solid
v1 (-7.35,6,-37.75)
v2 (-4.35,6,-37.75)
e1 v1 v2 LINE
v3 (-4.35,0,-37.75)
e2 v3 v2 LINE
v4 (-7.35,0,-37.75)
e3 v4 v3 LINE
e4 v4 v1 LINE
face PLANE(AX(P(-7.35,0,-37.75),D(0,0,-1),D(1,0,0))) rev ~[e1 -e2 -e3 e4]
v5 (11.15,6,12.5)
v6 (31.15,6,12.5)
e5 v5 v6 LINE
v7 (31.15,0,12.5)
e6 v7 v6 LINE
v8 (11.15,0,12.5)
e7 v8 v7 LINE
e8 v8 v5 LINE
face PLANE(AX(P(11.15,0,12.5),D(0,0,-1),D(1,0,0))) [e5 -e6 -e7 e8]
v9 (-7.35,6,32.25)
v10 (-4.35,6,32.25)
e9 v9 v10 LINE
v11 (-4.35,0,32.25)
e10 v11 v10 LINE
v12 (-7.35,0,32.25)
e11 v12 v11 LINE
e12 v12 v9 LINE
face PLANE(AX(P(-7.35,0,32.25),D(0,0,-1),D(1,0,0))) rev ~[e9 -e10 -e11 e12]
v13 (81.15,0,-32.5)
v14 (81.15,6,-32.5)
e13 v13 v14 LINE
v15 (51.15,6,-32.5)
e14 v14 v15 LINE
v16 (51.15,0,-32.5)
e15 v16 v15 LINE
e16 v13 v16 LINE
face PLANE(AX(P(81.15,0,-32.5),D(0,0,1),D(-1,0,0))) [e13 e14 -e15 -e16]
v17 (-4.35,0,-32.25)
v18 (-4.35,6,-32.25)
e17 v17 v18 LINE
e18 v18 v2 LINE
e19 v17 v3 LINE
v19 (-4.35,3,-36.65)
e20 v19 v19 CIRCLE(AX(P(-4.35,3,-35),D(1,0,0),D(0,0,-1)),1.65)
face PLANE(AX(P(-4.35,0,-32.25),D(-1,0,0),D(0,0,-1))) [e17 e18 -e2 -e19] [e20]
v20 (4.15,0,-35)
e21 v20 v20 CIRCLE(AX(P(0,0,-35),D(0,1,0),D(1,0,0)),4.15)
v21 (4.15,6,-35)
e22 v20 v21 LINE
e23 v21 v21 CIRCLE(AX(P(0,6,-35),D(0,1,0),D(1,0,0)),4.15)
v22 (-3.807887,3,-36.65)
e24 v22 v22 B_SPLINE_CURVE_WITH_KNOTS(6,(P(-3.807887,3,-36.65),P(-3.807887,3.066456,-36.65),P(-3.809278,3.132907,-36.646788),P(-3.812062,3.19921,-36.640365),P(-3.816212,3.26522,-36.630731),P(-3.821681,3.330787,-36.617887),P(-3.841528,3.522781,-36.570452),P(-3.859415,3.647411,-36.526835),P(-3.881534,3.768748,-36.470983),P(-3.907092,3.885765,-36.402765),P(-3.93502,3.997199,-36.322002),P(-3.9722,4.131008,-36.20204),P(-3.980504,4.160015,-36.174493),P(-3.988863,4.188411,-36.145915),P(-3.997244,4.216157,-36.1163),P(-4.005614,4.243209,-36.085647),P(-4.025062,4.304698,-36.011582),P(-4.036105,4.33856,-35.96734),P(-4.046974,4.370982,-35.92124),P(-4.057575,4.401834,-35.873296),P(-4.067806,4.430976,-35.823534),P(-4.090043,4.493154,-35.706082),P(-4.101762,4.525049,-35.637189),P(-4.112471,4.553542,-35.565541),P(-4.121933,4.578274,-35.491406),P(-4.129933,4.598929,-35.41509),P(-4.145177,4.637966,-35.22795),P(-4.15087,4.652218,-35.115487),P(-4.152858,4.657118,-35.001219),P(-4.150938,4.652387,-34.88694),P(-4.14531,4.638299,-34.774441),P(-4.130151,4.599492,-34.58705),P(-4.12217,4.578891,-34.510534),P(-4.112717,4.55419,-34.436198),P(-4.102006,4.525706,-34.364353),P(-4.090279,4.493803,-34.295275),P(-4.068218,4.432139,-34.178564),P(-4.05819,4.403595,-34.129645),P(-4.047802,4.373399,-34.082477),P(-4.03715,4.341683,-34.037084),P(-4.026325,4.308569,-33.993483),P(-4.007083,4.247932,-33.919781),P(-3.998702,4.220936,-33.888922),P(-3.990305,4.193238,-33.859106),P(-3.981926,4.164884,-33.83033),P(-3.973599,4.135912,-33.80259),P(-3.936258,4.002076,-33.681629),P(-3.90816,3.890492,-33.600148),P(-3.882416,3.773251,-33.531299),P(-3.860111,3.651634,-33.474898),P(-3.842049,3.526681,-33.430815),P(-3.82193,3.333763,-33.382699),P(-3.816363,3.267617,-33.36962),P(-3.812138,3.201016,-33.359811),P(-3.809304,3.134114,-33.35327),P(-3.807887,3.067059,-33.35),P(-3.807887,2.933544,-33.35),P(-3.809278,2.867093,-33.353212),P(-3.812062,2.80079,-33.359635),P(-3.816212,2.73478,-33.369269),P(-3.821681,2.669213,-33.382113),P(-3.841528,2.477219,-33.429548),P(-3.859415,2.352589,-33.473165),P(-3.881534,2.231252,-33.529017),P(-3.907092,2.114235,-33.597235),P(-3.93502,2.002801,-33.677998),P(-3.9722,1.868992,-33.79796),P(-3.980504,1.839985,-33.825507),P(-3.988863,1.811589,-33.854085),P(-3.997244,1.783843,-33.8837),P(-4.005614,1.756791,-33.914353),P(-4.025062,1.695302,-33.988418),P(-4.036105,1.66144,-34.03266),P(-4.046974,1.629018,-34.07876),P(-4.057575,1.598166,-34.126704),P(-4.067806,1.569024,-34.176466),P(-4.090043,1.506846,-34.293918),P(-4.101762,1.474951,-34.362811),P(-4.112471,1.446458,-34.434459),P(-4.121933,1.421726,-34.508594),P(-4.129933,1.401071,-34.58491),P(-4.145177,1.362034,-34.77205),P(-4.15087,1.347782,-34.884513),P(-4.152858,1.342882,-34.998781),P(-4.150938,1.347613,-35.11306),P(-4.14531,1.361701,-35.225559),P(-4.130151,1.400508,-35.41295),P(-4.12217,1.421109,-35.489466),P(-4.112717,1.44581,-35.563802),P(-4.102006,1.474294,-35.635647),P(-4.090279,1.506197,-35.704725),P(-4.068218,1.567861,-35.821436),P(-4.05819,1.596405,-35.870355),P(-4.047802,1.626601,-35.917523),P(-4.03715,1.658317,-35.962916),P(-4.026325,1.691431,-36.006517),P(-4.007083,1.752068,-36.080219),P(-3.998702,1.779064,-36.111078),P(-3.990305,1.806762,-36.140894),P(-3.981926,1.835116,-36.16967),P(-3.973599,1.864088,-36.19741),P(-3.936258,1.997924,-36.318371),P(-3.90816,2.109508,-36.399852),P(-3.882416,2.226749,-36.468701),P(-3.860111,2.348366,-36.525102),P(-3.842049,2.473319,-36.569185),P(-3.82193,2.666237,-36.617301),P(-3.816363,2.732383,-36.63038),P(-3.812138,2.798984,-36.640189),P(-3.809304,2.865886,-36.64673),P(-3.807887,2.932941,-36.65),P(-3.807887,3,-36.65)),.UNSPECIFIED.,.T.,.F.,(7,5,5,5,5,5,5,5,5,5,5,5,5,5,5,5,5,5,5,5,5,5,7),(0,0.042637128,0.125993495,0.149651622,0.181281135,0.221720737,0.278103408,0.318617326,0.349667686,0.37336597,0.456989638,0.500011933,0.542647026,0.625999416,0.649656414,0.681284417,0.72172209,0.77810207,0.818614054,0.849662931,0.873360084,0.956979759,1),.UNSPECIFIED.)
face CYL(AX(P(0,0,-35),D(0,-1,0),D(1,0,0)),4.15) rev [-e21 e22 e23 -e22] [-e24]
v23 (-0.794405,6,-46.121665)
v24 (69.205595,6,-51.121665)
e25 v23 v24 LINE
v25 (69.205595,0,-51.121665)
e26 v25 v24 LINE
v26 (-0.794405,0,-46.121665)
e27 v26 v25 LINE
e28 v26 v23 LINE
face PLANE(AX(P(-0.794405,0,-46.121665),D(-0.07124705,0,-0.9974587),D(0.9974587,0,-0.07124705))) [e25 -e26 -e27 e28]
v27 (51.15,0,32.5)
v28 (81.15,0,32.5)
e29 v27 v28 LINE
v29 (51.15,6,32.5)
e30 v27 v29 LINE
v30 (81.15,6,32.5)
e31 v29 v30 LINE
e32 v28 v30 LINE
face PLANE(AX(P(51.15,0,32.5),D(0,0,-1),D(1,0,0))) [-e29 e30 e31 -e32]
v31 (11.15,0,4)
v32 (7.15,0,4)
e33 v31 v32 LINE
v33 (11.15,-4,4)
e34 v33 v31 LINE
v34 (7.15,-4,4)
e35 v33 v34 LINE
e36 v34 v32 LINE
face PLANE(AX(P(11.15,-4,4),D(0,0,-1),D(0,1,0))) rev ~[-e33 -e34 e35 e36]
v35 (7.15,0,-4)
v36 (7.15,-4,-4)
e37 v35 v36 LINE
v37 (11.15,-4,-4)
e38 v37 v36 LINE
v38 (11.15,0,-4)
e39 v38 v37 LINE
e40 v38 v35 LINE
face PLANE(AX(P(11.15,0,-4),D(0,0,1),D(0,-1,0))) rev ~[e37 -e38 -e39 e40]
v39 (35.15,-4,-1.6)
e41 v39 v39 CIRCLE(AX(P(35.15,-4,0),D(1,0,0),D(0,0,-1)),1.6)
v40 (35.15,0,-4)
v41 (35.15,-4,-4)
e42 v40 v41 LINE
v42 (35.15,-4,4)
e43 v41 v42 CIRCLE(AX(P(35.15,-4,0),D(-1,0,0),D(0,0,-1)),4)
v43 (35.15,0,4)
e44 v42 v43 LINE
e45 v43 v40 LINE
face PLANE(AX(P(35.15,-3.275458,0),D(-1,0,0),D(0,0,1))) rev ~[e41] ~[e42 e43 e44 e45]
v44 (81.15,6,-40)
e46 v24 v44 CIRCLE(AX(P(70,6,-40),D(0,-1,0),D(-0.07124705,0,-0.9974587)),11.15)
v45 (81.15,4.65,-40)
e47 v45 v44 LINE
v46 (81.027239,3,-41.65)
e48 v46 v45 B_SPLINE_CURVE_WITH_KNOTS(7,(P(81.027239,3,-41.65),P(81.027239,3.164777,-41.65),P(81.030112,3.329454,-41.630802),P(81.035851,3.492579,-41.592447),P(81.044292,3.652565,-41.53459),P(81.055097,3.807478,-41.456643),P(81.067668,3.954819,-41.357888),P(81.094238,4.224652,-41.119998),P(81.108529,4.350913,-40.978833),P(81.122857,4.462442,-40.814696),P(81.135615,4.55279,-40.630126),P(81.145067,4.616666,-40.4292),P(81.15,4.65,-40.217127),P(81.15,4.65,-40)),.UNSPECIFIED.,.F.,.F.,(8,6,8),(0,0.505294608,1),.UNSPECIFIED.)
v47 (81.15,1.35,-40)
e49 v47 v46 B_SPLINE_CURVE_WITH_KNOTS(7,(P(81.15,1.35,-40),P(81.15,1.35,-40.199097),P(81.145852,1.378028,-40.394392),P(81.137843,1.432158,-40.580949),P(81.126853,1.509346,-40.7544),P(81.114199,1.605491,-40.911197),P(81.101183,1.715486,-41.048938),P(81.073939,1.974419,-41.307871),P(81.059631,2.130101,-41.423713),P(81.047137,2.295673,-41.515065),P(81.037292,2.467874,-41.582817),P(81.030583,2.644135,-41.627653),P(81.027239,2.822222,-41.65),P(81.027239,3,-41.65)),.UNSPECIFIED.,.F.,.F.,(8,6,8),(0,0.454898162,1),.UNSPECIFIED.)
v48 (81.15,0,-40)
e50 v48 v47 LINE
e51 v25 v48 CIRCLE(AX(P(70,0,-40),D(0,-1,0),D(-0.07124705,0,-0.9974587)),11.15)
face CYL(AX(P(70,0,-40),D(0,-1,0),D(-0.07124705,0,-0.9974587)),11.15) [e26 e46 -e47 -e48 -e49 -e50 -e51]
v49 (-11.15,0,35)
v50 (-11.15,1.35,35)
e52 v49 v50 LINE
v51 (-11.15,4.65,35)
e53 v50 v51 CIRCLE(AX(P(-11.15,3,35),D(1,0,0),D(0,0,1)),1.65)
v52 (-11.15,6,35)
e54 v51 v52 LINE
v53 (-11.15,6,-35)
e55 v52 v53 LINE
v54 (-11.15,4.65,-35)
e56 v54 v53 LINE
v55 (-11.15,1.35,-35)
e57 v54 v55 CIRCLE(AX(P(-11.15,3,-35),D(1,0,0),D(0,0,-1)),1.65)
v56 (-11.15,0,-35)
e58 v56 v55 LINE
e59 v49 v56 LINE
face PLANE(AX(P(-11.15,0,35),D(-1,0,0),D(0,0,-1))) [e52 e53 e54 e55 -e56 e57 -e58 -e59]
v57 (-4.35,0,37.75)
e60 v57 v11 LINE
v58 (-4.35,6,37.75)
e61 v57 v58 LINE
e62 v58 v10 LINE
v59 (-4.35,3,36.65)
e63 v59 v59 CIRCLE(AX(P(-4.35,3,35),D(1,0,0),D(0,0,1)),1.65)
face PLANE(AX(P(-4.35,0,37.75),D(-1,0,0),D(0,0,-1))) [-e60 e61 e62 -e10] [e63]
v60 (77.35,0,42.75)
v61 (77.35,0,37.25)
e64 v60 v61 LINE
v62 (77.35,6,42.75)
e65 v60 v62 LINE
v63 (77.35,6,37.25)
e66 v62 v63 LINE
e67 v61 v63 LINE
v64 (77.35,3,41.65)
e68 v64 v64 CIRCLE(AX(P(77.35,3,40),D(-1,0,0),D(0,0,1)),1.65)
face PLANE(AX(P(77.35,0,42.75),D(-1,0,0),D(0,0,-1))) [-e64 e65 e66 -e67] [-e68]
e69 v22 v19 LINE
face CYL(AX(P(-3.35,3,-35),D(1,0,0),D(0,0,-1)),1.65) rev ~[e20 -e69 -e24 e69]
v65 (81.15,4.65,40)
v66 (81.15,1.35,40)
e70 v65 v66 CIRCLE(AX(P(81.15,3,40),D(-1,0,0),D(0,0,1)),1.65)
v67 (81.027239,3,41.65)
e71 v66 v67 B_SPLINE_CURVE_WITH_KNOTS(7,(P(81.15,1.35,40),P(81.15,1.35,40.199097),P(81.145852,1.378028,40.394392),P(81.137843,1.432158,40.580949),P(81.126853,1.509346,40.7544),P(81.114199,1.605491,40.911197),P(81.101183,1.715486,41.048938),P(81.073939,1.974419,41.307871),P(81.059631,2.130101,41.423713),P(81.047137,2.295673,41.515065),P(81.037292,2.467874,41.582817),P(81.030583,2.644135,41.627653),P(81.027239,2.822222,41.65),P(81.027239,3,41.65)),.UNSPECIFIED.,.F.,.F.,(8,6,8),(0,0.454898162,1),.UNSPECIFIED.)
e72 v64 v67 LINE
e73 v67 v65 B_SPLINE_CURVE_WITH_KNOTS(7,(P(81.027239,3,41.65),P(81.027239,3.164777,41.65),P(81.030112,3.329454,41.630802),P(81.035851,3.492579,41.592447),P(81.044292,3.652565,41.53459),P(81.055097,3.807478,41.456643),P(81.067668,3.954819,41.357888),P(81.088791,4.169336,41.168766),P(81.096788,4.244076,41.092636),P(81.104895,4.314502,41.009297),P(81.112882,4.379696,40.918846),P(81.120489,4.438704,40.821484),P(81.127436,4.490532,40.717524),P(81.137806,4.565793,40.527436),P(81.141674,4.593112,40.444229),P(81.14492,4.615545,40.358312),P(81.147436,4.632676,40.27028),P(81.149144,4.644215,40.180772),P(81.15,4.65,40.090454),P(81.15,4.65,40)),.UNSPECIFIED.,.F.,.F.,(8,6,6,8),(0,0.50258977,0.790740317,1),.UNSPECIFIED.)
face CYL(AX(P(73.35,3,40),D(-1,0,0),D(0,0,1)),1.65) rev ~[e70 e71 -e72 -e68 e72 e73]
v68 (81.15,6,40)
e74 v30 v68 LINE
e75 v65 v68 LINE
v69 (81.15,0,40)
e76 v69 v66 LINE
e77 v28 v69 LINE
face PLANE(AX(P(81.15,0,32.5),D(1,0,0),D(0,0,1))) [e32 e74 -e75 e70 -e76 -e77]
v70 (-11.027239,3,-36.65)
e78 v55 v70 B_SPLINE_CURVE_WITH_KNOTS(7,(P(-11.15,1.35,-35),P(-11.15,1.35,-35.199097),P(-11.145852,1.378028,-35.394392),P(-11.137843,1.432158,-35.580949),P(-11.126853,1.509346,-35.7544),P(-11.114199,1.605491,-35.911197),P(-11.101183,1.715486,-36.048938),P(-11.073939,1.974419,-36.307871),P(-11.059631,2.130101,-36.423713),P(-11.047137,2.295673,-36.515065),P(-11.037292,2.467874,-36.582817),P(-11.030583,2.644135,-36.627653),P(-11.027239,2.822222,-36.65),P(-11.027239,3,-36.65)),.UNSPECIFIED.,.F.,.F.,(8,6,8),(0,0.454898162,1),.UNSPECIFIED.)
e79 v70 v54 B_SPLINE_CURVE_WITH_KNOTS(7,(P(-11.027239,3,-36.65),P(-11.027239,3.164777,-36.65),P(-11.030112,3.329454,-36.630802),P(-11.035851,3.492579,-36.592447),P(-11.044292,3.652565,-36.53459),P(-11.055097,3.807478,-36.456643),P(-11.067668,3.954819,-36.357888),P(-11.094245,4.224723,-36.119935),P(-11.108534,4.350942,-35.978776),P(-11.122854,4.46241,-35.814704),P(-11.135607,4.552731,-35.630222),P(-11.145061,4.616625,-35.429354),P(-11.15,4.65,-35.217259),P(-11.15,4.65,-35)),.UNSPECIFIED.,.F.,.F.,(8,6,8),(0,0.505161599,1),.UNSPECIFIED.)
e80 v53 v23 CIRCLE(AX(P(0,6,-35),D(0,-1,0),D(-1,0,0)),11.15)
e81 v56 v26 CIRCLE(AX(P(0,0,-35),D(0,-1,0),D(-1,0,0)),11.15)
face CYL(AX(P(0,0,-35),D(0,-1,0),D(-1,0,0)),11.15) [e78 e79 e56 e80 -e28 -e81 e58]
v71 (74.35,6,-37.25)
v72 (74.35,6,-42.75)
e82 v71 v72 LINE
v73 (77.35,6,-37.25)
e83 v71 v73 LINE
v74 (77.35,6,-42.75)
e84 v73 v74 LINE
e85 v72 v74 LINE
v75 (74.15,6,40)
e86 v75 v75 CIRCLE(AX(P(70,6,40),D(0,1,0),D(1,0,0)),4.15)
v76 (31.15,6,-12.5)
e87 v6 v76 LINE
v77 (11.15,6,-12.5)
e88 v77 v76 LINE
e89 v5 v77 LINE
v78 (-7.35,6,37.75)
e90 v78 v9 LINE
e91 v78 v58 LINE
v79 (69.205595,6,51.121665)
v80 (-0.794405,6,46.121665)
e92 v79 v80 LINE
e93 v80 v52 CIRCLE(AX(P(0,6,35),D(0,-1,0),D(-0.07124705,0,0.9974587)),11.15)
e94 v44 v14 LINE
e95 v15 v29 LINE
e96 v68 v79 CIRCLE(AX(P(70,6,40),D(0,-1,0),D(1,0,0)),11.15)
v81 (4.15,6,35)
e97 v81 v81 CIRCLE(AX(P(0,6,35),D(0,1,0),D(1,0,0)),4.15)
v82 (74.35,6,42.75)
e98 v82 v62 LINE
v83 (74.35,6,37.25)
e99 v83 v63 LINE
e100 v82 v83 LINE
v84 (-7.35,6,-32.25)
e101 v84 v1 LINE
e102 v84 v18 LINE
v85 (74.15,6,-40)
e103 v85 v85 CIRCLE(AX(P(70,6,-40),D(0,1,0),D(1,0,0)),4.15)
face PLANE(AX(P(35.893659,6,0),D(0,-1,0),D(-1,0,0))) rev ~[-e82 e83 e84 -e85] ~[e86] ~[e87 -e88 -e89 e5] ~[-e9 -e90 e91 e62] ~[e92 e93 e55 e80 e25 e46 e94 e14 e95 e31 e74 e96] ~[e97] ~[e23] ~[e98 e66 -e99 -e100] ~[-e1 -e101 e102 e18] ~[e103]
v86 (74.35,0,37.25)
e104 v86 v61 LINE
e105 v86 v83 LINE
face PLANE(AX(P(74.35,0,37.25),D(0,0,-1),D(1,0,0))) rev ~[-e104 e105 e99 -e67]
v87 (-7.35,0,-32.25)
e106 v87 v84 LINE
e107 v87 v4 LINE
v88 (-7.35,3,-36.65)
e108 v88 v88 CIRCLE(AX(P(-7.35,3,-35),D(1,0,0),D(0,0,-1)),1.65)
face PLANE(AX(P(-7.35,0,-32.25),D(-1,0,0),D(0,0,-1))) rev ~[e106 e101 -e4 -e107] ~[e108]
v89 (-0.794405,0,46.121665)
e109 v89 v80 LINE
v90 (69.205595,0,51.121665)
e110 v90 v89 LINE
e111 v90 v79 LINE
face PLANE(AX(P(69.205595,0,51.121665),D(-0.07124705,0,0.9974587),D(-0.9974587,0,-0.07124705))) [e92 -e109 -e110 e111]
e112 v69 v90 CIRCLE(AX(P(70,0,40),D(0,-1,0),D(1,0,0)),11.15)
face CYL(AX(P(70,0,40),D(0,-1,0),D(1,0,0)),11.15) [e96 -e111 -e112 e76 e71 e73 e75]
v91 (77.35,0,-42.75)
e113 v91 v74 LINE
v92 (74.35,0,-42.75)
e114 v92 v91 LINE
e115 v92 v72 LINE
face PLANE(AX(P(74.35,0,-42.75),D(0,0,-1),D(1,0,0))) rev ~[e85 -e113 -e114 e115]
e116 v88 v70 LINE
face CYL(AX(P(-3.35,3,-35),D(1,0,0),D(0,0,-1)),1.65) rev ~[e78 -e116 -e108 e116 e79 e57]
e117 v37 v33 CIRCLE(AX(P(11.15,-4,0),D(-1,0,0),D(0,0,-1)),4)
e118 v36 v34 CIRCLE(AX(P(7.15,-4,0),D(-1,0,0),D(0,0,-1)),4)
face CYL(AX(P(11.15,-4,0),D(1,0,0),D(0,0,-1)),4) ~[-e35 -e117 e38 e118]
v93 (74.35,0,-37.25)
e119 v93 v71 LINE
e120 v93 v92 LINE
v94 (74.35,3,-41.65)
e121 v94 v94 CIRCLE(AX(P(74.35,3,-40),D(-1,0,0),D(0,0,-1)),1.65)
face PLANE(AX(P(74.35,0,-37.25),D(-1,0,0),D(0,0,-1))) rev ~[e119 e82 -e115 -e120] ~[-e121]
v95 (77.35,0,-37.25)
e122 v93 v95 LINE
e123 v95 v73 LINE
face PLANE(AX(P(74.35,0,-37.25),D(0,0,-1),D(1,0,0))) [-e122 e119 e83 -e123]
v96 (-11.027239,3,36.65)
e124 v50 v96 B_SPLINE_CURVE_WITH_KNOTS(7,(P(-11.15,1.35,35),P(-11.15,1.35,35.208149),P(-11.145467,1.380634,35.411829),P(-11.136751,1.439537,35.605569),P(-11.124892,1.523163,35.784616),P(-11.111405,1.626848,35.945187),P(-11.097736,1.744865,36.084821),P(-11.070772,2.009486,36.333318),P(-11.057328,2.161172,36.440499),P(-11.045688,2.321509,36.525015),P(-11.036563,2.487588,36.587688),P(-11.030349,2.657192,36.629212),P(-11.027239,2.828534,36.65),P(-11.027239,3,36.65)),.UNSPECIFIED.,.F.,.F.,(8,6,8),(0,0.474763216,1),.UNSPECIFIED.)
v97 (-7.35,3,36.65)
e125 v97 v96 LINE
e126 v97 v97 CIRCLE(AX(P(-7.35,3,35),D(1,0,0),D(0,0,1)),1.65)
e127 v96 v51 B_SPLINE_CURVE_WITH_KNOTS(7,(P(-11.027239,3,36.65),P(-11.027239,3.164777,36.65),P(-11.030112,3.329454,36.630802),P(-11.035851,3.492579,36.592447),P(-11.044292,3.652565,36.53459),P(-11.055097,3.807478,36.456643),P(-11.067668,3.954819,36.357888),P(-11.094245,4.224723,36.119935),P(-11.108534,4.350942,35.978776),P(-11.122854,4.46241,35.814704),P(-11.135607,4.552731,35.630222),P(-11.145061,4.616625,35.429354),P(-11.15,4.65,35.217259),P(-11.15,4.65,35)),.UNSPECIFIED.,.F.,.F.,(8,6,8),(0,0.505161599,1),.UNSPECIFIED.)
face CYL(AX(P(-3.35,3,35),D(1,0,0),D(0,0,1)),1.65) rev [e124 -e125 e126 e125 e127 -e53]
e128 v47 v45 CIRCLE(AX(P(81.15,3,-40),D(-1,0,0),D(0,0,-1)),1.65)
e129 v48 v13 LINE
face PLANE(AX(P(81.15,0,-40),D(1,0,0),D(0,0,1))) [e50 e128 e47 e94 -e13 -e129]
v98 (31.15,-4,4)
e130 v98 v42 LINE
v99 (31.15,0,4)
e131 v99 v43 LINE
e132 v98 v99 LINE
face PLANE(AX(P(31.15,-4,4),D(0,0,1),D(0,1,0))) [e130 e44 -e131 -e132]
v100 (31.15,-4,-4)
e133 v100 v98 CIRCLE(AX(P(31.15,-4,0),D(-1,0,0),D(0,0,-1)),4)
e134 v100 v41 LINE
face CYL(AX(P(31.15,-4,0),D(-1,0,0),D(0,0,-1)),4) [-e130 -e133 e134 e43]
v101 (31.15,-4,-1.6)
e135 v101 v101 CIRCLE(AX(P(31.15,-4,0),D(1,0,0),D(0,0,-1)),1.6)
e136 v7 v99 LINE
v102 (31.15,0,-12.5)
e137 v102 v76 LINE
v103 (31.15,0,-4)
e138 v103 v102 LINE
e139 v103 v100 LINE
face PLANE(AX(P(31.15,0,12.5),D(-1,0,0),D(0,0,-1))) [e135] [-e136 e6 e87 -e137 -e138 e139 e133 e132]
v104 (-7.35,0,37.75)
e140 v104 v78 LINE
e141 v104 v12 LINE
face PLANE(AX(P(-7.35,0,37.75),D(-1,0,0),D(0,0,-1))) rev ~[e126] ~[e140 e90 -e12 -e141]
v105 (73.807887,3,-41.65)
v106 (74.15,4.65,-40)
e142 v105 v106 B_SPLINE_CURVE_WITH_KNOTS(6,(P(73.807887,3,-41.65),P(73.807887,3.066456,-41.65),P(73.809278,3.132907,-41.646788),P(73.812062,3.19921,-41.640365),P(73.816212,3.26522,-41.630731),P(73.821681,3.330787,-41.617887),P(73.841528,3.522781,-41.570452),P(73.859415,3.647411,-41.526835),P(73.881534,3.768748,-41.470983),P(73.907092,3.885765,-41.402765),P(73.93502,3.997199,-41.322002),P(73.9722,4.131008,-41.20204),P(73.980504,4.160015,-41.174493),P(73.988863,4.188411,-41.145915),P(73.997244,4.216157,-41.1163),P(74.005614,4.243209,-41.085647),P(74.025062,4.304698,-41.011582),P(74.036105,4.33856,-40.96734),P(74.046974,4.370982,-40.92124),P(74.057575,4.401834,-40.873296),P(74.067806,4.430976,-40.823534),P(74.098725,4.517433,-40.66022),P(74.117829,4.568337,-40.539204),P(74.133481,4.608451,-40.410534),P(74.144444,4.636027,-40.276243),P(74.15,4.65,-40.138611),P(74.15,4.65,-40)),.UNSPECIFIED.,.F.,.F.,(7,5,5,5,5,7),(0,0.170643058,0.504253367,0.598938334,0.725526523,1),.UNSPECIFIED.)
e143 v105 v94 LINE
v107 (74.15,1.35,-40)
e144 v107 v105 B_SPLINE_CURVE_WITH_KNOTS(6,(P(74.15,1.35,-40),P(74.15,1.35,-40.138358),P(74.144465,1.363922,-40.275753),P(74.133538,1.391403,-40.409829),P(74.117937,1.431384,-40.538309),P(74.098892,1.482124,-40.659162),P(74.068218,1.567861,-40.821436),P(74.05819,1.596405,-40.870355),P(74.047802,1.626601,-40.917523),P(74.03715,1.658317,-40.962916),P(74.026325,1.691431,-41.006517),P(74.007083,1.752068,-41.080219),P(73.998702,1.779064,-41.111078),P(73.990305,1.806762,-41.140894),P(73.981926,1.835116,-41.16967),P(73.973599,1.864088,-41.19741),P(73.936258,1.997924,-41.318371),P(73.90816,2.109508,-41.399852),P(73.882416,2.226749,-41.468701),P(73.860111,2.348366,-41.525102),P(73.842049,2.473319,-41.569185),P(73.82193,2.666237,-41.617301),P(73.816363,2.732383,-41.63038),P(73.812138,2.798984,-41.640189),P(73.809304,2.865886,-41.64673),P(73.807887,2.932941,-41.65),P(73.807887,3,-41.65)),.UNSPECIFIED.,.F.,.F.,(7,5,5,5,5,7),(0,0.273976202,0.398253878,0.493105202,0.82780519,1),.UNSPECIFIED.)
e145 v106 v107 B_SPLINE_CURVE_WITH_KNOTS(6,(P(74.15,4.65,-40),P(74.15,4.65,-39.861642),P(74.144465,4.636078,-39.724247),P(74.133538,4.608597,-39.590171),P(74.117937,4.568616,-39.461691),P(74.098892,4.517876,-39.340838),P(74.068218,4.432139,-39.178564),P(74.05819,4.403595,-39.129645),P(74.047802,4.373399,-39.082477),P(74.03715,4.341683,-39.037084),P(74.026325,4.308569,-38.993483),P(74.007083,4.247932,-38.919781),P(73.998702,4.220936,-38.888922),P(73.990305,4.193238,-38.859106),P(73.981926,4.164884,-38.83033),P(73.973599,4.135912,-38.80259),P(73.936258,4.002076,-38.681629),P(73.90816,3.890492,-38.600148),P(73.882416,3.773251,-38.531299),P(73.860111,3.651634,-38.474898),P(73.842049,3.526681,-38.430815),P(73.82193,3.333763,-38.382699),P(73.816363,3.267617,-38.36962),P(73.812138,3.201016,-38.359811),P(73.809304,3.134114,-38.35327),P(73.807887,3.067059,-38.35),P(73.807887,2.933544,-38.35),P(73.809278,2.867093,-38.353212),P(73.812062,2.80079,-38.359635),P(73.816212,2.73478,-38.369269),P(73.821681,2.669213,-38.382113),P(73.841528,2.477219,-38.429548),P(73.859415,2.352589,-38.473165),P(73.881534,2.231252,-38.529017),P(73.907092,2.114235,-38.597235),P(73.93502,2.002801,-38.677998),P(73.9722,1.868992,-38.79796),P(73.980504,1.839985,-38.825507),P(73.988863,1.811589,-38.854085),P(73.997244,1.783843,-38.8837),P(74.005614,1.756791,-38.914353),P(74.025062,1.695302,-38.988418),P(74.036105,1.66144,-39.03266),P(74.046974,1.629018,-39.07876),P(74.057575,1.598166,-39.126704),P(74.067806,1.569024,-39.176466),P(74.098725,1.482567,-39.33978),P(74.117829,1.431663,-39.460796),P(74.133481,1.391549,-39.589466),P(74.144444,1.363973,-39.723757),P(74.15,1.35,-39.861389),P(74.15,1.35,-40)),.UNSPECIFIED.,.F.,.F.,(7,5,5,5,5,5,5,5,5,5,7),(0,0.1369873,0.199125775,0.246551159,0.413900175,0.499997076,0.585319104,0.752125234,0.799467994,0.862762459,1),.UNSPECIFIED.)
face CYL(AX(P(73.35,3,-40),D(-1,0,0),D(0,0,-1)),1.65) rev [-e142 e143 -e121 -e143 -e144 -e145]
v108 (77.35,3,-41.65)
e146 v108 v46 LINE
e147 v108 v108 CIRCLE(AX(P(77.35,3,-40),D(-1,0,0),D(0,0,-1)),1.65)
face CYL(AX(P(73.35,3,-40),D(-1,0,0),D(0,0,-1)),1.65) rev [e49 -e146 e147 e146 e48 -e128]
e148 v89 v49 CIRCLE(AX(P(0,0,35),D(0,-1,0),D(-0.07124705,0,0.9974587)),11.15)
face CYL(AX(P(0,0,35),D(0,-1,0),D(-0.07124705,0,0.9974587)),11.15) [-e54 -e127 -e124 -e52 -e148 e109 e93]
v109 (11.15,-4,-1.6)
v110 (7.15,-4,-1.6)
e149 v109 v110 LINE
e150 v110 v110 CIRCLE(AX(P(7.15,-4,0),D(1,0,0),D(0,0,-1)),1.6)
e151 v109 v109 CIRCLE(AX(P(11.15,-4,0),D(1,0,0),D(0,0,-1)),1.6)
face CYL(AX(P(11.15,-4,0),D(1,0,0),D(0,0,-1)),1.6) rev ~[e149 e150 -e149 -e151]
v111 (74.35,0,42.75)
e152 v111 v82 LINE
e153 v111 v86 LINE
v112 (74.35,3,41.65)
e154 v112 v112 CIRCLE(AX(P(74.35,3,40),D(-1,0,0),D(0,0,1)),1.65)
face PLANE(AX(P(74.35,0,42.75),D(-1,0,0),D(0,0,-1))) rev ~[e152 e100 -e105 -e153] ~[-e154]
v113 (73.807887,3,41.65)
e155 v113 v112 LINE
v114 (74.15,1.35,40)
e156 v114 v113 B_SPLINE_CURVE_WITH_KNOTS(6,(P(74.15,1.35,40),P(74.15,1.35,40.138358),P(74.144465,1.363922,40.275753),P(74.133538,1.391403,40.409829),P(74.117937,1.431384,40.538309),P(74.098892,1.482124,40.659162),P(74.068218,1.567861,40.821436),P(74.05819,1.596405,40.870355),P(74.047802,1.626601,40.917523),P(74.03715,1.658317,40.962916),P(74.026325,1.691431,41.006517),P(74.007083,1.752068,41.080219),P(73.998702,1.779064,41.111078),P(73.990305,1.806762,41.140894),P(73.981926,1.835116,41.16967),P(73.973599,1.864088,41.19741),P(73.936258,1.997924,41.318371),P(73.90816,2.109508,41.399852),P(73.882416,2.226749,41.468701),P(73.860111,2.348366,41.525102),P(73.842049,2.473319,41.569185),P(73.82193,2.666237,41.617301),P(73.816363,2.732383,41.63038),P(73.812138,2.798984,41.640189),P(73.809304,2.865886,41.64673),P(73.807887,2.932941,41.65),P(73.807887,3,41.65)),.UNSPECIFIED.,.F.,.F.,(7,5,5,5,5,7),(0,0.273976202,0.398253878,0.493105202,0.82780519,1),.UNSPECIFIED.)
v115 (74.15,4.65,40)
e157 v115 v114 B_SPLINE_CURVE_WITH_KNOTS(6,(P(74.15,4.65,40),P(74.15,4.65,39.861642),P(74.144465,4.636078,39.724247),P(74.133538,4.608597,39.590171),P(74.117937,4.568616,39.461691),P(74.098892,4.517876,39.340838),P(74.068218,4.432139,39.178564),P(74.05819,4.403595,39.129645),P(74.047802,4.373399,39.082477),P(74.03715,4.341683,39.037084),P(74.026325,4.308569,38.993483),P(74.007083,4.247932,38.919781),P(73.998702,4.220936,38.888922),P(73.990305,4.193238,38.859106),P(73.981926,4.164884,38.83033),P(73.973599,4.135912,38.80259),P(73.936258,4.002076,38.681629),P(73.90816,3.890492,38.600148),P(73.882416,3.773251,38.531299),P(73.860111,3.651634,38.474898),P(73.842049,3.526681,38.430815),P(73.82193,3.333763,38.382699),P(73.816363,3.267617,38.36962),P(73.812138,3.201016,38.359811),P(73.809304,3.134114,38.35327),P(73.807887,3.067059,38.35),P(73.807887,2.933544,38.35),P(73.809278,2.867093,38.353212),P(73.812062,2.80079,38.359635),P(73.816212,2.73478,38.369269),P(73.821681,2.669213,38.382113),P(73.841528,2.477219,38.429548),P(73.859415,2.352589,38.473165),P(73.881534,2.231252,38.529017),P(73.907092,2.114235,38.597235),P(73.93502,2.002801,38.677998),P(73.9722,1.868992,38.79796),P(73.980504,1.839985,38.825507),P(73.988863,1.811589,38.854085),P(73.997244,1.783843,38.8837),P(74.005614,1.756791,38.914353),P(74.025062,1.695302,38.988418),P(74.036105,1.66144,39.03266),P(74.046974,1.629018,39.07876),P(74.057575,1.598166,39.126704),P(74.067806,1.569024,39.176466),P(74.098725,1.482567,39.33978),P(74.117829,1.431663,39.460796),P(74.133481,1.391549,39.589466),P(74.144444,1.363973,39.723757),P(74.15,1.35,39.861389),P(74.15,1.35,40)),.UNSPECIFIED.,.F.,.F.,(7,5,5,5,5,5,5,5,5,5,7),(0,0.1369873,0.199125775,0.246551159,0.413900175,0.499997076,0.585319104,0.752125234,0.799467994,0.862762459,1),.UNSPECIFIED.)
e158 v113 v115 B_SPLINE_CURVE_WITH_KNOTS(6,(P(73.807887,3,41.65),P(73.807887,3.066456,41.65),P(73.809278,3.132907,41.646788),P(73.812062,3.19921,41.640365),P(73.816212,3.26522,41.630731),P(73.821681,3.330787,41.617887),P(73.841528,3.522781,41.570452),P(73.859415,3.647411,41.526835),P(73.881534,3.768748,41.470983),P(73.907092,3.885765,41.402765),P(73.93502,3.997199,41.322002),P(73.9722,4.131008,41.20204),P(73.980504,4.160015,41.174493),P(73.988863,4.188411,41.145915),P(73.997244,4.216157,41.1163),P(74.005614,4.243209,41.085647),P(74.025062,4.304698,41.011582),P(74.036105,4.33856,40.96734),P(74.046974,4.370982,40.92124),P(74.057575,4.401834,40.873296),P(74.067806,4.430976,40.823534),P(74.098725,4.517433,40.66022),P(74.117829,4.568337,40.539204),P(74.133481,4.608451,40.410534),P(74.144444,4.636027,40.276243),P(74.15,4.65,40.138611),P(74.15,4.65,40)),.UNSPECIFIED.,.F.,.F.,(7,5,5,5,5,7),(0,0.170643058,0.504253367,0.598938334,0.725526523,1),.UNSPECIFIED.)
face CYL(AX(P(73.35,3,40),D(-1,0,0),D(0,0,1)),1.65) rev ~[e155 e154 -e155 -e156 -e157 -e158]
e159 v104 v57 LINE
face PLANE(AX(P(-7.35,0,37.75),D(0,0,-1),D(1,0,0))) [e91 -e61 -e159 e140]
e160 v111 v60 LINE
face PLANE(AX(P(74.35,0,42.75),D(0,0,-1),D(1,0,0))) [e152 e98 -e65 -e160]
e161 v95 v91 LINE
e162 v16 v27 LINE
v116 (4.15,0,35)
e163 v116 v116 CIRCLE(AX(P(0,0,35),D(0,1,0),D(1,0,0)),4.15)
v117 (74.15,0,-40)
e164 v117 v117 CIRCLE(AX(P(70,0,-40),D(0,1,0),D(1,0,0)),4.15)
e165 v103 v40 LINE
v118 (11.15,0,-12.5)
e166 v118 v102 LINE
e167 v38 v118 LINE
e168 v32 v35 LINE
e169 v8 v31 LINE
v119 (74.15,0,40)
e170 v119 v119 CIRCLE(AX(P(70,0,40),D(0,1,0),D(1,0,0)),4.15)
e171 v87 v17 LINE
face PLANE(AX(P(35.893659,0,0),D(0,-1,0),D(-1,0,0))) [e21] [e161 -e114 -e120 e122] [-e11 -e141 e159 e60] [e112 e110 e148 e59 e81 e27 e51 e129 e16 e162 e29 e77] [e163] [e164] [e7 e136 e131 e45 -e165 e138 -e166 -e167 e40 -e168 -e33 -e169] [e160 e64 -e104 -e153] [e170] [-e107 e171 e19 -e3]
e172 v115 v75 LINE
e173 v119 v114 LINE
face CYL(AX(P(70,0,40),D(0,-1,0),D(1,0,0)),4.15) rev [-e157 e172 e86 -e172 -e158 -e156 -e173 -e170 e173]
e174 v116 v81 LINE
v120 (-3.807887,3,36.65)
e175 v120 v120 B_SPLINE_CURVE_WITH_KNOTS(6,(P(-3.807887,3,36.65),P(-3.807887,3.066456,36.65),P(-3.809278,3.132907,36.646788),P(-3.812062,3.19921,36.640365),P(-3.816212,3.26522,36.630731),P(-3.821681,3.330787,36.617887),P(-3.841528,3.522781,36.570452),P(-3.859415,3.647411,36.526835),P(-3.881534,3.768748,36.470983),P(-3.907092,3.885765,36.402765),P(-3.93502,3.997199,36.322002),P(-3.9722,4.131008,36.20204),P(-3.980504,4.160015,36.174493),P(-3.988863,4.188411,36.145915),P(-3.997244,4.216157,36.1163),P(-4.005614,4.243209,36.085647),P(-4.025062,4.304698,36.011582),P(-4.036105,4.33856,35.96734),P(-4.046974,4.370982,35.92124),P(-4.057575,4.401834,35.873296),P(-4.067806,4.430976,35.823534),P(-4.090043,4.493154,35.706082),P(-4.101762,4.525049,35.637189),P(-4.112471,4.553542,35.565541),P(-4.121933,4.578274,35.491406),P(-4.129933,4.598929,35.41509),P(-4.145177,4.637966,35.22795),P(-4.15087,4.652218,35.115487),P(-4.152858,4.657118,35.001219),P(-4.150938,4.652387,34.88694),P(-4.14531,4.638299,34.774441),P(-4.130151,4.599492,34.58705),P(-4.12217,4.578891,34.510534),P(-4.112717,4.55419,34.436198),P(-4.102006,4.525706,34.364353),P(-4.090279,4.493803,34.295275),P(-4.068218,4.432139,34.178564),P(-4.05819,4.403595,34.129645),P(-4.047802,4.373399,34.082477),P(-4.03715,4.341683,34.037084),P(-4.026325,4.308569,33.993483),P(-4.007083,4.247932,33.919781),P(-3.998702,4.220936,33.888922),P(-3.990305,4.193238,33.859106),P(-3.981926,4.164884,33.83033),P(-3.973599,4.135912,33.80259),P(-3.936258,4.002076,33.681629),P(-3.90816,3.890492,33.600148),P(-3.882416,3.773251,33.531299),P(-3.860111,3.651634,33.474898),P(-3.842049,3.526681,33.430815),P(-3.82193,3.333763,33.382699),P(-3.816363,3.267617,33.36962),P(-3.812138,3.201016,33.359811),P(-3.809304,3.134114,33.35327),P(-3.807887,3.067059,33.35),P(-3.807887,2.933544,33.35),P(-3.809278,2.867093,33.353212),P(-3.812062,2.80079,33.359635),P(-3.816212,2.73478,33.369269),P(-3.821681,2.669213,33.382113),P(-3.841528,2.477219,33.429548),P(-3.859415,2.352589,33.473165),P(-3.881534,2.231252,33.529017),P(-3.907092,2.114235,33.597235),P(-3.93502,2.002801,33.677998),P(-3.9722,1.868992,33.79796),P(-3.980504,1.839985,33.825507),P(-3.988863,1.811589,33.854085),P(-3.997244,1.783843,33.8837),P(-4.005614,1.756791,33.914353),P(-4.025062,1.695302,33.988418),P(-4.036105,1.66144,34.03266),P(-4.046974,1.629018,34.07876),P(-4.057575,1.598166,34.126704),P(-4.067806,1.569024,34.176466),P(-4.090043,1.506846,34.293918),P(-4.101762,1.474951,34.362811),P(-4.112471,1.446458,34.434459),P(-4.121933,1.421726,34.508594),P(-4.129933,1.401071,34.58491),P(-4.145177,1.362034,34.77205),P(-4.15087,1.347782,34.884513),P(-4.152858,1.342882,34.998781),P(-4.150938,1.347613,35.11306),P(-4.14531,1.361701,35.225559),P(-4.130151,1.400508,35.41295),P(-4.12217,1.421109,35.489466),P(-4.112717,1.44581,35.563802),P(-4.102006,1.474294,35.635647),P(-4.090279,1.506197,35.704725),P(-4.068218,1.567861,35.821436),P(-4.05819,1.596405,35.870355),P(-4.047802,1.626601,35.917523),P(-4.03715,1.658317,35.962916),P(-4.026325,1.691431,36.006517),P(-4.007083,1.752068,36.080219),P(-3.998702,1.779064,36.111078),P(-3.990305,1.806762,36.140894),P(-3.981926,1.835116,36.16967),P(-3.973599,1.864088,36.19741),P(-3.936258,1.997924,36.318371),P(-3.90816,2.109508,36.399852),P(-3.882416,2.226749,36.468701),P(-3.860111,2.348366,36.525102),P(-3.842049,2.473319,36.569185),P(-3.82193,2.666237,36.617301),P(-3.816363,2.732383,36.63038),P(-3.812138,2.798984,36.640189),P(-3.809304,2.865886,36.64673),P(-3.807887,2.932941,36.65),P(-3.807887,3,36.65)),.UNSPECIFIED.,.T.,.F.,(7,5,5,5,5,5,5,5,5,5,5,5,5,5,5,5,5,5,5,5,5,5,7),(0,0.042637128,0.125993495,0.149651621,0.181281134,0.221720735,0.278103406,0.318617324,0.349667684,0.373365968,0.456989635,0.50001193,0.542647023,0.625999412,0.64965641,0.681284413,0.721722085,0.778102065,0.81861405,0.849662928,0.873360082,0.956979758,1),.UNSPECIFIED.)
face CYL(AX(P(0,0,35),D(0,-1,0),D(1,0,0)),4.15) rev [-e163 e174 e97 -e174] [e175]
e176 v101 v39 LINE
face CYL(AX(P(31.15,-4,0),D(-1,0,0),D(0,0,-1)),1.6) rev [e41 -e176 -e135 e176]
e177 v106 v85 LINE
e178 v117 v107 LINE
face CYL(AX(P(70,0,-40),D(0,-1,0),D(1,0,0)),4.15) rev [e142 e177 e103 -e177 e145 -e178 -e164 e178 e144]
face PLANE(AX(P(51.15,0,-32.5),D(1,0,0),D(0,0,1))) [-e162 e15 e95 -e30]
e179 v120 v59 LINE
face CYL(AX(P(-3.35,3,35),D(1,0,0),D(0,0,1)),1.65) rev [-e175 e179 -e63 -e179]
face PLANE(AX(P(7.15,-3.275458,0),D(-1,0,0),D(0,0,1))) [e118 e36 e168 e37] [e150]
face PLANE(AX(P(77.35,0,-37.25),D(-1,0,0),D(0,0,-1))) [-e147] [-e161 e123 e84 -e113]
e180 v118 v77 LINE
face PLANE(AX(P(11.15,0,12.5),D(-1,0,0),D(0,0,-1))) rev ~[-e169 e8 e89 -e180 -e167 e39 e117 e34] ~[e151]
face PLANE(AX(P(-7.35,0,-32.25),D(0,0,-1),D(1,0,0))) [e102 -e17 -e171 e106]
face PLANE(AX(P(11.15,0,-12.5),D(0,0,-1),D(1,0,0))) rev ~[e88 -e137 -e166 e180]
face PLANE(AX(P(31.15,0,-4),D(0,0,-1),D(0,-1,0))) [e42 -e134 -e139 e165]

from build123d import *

# Parameters (mm, degrees)
ESBO_O2_R                = 4.15
ESBO_O2_W                = 3
ESBO_O2_H                = 5.5
ESBO_O2_W_2              = 20
ESBO_O2_H_2              = 25
RESSALTO_EXTRUS_O1_DEPTH = 6
ESBO_O4_R                = 1.6
RESSALTO_EXTRUS_O2_DEPTH = 4
RESSALTO_EXTRUS_O3_START = 20
ESBO_O4_2_R              = 1.6
RESSALTO_EXTRUS_O3_DEPTH = 4
CORTE_EXTRUS_O2_START    = -1
ESBO_O7_R                = 1.65
CORTE_EXTRUS_O2_DEPTH    = 8.8
CORTE_EXTRUS_O3_START    = -1
ESBO_O8_R                = 1.65
CORTE_EXTRUS_O3_DEPTH    = 8.8


with BuildPart() as part:
    # Esboço2 → Ressalto-extrusão1 (new body)
    with BuildSketch(Plane(origin=(0, 0, 0), x_dir=(1, 0, 0), z_dir=(0, 1, 0))):
        with BuildLine():
            Line((-0.794404607, 46.121664503), (69.205595393, 51.121664503))
            ThreePointArc((69.205595393, 51.121664503), (77.59818691, 48.160273015), (81.15, 40))
            Line((81.15, 40), (81.15, 32.5))
            Line((81.15, 32.5), (51.15, 32.5))
            Line((51.15, 32.5), (51.15, -32.5))
            Line((51.15, -32.5), (81.15, -32.5))
            Line((81.15, -32.5), (81.15, -40))
            ThreePointArc((81.15, -40), (77.59818691, -48.160273015), (69.205595393, -51.121664503))
            Line((69.205595393, -51.121664503), (-0.794404607, -46.121664503))
            ThreePointArc((-0.794404607, -46.121664503), (-8.160273015, -42.59818691), (-11.15, -35))
            Line((-11.15, -35), (-11.15, 35))
            ThreePointArc((-11.15, 35), (-8.160273015, 42.59818691), (-0.794404607, 46.121664503))
        make_face()
        with Locations((0, 35)):
            Circle(ESBO_O2_R, mode=Mode.SUBTRACT)
        with Locations((70, 40)):
            Circle(ESBO_O2_R, mode=Mode.SUBTRACT)
        with Locations((70, -40)):
            Circle(ESBO_O2_R, mode=Mode.SUBTRACT)
        with Locations((0, -35)):
            Circle(ESBO_O2_R, mode=Mode.SUBTRACT)
        with Locations((-5.85, 35)):
            Rectangle(ESBO_O2_W, ESBO_O2_H, mode=Mode.SUBTRACT)
        with Locations((75.85, 40)):
            Rectangle(ESBO_O2_W, ESBO_O2_H, mode=Mode.SUBTRACT)
        with Locations((75.85, -40)):
            Rectangle(ESBO_O2_W, ESBO_O2_H, mode=Mode.SUBTRACT)
        with Locations((-5.85, -35)):
            Rectangle(ESBO_O2_W, ESBO_O2_H, mode=Mode.SUBTRACT)
        with Locations((21.15, 0)):
            Rectangle(ESBO_O2_W_2, ESBO_O2_H_2, mode=Mode.SUBTRACT)
    extrude(amount=RESSALTO_EXTRUS_O1_DEPTH)

    # Esboço4 → Ressalto-extrusão2 (add)
    with BuildSketch(Plane(origin=(11.15, 0, 0), x_dir=(0, 0, -1), z_dir=(1, 0, 0))):
        with BuildLine():
            Line((-4, -4), (-4, 0))
            Line((-4, 0), (4, 0))
            Line((4, 0), (4, -4))
            ThreePointArc((4, -4), (0, -8), (-4, -4))
        make_face()
        with Locations((0, -4)):
            Circle(ESBO_O4_R, mode=Mode.SUBTRACT)
    extrude(amount=-RESSALTO_EXTRUS_O2_DEPTH)

    # Esboço4<2> → Ressalto-extrusão3 (add)
    with BuildSketch(Plane(origin=(11.15, 0, 0), x_dir=(0, 0, -1), z_dir=(1, 0, 0)).offset(RESSALTO_EXTRUS_O3_START)):
        with BuildLine():
            Line((-4, -4), (-4, 0))
            Line((-4, 0), (4, 0))
            Line((4, 0), (4, -4))
            ThreePointArc((4, -4), (0, -8), (-4, -4))
        make_face()
        with Locations((0, -4)):
            Circle(ESBO_O4_2_R, mode=Mode.SUBTRACT)
    extrude(amount=RESSALTO_EXTRUS_O3_DEPTH)

    # Esboço7 → Corte-extrusão2 (cut)
    with BuildSketch(Plane(origin=(74.35, 0, 0), x_dir=(0, 0, -1), z_dir=(1, 0, 0)).offset(CORTE_EXTRUS_O2_START)):
        with Locations((40, 3)):
            Circle(ESBO_O7_R)
    corte_extrus_o2 = extrude(amount=CORTE_EXTRUS_O2_DEPTH, mode=Mode.SUBTRACT)

    # Esboço8 → Corte-extrusão3 (cut)
    with BuildSketch(Plane.ZY.offset(4.35).offset(CORTE_EXTRUS_O3_START)):
        with Locations((35, 3)):
            Circle(ESBO_O8_R)
    corte_extrus_o3 = extrude(amount=CORTE_EXTRUS_O3_DEPTH, mode=Mode.SUBTRACT)

    # Espelhar1: Corte-extrusão2, Corte-extrusão3 across plane
    add(corte_extrus_o2.mirror(Plane.XY), mode=Mode.SUBTRACT)
    add(corte_extrus_o3.mirror(Plane.XY), mode=Mode.SUBTRACT)


solid = part.part
